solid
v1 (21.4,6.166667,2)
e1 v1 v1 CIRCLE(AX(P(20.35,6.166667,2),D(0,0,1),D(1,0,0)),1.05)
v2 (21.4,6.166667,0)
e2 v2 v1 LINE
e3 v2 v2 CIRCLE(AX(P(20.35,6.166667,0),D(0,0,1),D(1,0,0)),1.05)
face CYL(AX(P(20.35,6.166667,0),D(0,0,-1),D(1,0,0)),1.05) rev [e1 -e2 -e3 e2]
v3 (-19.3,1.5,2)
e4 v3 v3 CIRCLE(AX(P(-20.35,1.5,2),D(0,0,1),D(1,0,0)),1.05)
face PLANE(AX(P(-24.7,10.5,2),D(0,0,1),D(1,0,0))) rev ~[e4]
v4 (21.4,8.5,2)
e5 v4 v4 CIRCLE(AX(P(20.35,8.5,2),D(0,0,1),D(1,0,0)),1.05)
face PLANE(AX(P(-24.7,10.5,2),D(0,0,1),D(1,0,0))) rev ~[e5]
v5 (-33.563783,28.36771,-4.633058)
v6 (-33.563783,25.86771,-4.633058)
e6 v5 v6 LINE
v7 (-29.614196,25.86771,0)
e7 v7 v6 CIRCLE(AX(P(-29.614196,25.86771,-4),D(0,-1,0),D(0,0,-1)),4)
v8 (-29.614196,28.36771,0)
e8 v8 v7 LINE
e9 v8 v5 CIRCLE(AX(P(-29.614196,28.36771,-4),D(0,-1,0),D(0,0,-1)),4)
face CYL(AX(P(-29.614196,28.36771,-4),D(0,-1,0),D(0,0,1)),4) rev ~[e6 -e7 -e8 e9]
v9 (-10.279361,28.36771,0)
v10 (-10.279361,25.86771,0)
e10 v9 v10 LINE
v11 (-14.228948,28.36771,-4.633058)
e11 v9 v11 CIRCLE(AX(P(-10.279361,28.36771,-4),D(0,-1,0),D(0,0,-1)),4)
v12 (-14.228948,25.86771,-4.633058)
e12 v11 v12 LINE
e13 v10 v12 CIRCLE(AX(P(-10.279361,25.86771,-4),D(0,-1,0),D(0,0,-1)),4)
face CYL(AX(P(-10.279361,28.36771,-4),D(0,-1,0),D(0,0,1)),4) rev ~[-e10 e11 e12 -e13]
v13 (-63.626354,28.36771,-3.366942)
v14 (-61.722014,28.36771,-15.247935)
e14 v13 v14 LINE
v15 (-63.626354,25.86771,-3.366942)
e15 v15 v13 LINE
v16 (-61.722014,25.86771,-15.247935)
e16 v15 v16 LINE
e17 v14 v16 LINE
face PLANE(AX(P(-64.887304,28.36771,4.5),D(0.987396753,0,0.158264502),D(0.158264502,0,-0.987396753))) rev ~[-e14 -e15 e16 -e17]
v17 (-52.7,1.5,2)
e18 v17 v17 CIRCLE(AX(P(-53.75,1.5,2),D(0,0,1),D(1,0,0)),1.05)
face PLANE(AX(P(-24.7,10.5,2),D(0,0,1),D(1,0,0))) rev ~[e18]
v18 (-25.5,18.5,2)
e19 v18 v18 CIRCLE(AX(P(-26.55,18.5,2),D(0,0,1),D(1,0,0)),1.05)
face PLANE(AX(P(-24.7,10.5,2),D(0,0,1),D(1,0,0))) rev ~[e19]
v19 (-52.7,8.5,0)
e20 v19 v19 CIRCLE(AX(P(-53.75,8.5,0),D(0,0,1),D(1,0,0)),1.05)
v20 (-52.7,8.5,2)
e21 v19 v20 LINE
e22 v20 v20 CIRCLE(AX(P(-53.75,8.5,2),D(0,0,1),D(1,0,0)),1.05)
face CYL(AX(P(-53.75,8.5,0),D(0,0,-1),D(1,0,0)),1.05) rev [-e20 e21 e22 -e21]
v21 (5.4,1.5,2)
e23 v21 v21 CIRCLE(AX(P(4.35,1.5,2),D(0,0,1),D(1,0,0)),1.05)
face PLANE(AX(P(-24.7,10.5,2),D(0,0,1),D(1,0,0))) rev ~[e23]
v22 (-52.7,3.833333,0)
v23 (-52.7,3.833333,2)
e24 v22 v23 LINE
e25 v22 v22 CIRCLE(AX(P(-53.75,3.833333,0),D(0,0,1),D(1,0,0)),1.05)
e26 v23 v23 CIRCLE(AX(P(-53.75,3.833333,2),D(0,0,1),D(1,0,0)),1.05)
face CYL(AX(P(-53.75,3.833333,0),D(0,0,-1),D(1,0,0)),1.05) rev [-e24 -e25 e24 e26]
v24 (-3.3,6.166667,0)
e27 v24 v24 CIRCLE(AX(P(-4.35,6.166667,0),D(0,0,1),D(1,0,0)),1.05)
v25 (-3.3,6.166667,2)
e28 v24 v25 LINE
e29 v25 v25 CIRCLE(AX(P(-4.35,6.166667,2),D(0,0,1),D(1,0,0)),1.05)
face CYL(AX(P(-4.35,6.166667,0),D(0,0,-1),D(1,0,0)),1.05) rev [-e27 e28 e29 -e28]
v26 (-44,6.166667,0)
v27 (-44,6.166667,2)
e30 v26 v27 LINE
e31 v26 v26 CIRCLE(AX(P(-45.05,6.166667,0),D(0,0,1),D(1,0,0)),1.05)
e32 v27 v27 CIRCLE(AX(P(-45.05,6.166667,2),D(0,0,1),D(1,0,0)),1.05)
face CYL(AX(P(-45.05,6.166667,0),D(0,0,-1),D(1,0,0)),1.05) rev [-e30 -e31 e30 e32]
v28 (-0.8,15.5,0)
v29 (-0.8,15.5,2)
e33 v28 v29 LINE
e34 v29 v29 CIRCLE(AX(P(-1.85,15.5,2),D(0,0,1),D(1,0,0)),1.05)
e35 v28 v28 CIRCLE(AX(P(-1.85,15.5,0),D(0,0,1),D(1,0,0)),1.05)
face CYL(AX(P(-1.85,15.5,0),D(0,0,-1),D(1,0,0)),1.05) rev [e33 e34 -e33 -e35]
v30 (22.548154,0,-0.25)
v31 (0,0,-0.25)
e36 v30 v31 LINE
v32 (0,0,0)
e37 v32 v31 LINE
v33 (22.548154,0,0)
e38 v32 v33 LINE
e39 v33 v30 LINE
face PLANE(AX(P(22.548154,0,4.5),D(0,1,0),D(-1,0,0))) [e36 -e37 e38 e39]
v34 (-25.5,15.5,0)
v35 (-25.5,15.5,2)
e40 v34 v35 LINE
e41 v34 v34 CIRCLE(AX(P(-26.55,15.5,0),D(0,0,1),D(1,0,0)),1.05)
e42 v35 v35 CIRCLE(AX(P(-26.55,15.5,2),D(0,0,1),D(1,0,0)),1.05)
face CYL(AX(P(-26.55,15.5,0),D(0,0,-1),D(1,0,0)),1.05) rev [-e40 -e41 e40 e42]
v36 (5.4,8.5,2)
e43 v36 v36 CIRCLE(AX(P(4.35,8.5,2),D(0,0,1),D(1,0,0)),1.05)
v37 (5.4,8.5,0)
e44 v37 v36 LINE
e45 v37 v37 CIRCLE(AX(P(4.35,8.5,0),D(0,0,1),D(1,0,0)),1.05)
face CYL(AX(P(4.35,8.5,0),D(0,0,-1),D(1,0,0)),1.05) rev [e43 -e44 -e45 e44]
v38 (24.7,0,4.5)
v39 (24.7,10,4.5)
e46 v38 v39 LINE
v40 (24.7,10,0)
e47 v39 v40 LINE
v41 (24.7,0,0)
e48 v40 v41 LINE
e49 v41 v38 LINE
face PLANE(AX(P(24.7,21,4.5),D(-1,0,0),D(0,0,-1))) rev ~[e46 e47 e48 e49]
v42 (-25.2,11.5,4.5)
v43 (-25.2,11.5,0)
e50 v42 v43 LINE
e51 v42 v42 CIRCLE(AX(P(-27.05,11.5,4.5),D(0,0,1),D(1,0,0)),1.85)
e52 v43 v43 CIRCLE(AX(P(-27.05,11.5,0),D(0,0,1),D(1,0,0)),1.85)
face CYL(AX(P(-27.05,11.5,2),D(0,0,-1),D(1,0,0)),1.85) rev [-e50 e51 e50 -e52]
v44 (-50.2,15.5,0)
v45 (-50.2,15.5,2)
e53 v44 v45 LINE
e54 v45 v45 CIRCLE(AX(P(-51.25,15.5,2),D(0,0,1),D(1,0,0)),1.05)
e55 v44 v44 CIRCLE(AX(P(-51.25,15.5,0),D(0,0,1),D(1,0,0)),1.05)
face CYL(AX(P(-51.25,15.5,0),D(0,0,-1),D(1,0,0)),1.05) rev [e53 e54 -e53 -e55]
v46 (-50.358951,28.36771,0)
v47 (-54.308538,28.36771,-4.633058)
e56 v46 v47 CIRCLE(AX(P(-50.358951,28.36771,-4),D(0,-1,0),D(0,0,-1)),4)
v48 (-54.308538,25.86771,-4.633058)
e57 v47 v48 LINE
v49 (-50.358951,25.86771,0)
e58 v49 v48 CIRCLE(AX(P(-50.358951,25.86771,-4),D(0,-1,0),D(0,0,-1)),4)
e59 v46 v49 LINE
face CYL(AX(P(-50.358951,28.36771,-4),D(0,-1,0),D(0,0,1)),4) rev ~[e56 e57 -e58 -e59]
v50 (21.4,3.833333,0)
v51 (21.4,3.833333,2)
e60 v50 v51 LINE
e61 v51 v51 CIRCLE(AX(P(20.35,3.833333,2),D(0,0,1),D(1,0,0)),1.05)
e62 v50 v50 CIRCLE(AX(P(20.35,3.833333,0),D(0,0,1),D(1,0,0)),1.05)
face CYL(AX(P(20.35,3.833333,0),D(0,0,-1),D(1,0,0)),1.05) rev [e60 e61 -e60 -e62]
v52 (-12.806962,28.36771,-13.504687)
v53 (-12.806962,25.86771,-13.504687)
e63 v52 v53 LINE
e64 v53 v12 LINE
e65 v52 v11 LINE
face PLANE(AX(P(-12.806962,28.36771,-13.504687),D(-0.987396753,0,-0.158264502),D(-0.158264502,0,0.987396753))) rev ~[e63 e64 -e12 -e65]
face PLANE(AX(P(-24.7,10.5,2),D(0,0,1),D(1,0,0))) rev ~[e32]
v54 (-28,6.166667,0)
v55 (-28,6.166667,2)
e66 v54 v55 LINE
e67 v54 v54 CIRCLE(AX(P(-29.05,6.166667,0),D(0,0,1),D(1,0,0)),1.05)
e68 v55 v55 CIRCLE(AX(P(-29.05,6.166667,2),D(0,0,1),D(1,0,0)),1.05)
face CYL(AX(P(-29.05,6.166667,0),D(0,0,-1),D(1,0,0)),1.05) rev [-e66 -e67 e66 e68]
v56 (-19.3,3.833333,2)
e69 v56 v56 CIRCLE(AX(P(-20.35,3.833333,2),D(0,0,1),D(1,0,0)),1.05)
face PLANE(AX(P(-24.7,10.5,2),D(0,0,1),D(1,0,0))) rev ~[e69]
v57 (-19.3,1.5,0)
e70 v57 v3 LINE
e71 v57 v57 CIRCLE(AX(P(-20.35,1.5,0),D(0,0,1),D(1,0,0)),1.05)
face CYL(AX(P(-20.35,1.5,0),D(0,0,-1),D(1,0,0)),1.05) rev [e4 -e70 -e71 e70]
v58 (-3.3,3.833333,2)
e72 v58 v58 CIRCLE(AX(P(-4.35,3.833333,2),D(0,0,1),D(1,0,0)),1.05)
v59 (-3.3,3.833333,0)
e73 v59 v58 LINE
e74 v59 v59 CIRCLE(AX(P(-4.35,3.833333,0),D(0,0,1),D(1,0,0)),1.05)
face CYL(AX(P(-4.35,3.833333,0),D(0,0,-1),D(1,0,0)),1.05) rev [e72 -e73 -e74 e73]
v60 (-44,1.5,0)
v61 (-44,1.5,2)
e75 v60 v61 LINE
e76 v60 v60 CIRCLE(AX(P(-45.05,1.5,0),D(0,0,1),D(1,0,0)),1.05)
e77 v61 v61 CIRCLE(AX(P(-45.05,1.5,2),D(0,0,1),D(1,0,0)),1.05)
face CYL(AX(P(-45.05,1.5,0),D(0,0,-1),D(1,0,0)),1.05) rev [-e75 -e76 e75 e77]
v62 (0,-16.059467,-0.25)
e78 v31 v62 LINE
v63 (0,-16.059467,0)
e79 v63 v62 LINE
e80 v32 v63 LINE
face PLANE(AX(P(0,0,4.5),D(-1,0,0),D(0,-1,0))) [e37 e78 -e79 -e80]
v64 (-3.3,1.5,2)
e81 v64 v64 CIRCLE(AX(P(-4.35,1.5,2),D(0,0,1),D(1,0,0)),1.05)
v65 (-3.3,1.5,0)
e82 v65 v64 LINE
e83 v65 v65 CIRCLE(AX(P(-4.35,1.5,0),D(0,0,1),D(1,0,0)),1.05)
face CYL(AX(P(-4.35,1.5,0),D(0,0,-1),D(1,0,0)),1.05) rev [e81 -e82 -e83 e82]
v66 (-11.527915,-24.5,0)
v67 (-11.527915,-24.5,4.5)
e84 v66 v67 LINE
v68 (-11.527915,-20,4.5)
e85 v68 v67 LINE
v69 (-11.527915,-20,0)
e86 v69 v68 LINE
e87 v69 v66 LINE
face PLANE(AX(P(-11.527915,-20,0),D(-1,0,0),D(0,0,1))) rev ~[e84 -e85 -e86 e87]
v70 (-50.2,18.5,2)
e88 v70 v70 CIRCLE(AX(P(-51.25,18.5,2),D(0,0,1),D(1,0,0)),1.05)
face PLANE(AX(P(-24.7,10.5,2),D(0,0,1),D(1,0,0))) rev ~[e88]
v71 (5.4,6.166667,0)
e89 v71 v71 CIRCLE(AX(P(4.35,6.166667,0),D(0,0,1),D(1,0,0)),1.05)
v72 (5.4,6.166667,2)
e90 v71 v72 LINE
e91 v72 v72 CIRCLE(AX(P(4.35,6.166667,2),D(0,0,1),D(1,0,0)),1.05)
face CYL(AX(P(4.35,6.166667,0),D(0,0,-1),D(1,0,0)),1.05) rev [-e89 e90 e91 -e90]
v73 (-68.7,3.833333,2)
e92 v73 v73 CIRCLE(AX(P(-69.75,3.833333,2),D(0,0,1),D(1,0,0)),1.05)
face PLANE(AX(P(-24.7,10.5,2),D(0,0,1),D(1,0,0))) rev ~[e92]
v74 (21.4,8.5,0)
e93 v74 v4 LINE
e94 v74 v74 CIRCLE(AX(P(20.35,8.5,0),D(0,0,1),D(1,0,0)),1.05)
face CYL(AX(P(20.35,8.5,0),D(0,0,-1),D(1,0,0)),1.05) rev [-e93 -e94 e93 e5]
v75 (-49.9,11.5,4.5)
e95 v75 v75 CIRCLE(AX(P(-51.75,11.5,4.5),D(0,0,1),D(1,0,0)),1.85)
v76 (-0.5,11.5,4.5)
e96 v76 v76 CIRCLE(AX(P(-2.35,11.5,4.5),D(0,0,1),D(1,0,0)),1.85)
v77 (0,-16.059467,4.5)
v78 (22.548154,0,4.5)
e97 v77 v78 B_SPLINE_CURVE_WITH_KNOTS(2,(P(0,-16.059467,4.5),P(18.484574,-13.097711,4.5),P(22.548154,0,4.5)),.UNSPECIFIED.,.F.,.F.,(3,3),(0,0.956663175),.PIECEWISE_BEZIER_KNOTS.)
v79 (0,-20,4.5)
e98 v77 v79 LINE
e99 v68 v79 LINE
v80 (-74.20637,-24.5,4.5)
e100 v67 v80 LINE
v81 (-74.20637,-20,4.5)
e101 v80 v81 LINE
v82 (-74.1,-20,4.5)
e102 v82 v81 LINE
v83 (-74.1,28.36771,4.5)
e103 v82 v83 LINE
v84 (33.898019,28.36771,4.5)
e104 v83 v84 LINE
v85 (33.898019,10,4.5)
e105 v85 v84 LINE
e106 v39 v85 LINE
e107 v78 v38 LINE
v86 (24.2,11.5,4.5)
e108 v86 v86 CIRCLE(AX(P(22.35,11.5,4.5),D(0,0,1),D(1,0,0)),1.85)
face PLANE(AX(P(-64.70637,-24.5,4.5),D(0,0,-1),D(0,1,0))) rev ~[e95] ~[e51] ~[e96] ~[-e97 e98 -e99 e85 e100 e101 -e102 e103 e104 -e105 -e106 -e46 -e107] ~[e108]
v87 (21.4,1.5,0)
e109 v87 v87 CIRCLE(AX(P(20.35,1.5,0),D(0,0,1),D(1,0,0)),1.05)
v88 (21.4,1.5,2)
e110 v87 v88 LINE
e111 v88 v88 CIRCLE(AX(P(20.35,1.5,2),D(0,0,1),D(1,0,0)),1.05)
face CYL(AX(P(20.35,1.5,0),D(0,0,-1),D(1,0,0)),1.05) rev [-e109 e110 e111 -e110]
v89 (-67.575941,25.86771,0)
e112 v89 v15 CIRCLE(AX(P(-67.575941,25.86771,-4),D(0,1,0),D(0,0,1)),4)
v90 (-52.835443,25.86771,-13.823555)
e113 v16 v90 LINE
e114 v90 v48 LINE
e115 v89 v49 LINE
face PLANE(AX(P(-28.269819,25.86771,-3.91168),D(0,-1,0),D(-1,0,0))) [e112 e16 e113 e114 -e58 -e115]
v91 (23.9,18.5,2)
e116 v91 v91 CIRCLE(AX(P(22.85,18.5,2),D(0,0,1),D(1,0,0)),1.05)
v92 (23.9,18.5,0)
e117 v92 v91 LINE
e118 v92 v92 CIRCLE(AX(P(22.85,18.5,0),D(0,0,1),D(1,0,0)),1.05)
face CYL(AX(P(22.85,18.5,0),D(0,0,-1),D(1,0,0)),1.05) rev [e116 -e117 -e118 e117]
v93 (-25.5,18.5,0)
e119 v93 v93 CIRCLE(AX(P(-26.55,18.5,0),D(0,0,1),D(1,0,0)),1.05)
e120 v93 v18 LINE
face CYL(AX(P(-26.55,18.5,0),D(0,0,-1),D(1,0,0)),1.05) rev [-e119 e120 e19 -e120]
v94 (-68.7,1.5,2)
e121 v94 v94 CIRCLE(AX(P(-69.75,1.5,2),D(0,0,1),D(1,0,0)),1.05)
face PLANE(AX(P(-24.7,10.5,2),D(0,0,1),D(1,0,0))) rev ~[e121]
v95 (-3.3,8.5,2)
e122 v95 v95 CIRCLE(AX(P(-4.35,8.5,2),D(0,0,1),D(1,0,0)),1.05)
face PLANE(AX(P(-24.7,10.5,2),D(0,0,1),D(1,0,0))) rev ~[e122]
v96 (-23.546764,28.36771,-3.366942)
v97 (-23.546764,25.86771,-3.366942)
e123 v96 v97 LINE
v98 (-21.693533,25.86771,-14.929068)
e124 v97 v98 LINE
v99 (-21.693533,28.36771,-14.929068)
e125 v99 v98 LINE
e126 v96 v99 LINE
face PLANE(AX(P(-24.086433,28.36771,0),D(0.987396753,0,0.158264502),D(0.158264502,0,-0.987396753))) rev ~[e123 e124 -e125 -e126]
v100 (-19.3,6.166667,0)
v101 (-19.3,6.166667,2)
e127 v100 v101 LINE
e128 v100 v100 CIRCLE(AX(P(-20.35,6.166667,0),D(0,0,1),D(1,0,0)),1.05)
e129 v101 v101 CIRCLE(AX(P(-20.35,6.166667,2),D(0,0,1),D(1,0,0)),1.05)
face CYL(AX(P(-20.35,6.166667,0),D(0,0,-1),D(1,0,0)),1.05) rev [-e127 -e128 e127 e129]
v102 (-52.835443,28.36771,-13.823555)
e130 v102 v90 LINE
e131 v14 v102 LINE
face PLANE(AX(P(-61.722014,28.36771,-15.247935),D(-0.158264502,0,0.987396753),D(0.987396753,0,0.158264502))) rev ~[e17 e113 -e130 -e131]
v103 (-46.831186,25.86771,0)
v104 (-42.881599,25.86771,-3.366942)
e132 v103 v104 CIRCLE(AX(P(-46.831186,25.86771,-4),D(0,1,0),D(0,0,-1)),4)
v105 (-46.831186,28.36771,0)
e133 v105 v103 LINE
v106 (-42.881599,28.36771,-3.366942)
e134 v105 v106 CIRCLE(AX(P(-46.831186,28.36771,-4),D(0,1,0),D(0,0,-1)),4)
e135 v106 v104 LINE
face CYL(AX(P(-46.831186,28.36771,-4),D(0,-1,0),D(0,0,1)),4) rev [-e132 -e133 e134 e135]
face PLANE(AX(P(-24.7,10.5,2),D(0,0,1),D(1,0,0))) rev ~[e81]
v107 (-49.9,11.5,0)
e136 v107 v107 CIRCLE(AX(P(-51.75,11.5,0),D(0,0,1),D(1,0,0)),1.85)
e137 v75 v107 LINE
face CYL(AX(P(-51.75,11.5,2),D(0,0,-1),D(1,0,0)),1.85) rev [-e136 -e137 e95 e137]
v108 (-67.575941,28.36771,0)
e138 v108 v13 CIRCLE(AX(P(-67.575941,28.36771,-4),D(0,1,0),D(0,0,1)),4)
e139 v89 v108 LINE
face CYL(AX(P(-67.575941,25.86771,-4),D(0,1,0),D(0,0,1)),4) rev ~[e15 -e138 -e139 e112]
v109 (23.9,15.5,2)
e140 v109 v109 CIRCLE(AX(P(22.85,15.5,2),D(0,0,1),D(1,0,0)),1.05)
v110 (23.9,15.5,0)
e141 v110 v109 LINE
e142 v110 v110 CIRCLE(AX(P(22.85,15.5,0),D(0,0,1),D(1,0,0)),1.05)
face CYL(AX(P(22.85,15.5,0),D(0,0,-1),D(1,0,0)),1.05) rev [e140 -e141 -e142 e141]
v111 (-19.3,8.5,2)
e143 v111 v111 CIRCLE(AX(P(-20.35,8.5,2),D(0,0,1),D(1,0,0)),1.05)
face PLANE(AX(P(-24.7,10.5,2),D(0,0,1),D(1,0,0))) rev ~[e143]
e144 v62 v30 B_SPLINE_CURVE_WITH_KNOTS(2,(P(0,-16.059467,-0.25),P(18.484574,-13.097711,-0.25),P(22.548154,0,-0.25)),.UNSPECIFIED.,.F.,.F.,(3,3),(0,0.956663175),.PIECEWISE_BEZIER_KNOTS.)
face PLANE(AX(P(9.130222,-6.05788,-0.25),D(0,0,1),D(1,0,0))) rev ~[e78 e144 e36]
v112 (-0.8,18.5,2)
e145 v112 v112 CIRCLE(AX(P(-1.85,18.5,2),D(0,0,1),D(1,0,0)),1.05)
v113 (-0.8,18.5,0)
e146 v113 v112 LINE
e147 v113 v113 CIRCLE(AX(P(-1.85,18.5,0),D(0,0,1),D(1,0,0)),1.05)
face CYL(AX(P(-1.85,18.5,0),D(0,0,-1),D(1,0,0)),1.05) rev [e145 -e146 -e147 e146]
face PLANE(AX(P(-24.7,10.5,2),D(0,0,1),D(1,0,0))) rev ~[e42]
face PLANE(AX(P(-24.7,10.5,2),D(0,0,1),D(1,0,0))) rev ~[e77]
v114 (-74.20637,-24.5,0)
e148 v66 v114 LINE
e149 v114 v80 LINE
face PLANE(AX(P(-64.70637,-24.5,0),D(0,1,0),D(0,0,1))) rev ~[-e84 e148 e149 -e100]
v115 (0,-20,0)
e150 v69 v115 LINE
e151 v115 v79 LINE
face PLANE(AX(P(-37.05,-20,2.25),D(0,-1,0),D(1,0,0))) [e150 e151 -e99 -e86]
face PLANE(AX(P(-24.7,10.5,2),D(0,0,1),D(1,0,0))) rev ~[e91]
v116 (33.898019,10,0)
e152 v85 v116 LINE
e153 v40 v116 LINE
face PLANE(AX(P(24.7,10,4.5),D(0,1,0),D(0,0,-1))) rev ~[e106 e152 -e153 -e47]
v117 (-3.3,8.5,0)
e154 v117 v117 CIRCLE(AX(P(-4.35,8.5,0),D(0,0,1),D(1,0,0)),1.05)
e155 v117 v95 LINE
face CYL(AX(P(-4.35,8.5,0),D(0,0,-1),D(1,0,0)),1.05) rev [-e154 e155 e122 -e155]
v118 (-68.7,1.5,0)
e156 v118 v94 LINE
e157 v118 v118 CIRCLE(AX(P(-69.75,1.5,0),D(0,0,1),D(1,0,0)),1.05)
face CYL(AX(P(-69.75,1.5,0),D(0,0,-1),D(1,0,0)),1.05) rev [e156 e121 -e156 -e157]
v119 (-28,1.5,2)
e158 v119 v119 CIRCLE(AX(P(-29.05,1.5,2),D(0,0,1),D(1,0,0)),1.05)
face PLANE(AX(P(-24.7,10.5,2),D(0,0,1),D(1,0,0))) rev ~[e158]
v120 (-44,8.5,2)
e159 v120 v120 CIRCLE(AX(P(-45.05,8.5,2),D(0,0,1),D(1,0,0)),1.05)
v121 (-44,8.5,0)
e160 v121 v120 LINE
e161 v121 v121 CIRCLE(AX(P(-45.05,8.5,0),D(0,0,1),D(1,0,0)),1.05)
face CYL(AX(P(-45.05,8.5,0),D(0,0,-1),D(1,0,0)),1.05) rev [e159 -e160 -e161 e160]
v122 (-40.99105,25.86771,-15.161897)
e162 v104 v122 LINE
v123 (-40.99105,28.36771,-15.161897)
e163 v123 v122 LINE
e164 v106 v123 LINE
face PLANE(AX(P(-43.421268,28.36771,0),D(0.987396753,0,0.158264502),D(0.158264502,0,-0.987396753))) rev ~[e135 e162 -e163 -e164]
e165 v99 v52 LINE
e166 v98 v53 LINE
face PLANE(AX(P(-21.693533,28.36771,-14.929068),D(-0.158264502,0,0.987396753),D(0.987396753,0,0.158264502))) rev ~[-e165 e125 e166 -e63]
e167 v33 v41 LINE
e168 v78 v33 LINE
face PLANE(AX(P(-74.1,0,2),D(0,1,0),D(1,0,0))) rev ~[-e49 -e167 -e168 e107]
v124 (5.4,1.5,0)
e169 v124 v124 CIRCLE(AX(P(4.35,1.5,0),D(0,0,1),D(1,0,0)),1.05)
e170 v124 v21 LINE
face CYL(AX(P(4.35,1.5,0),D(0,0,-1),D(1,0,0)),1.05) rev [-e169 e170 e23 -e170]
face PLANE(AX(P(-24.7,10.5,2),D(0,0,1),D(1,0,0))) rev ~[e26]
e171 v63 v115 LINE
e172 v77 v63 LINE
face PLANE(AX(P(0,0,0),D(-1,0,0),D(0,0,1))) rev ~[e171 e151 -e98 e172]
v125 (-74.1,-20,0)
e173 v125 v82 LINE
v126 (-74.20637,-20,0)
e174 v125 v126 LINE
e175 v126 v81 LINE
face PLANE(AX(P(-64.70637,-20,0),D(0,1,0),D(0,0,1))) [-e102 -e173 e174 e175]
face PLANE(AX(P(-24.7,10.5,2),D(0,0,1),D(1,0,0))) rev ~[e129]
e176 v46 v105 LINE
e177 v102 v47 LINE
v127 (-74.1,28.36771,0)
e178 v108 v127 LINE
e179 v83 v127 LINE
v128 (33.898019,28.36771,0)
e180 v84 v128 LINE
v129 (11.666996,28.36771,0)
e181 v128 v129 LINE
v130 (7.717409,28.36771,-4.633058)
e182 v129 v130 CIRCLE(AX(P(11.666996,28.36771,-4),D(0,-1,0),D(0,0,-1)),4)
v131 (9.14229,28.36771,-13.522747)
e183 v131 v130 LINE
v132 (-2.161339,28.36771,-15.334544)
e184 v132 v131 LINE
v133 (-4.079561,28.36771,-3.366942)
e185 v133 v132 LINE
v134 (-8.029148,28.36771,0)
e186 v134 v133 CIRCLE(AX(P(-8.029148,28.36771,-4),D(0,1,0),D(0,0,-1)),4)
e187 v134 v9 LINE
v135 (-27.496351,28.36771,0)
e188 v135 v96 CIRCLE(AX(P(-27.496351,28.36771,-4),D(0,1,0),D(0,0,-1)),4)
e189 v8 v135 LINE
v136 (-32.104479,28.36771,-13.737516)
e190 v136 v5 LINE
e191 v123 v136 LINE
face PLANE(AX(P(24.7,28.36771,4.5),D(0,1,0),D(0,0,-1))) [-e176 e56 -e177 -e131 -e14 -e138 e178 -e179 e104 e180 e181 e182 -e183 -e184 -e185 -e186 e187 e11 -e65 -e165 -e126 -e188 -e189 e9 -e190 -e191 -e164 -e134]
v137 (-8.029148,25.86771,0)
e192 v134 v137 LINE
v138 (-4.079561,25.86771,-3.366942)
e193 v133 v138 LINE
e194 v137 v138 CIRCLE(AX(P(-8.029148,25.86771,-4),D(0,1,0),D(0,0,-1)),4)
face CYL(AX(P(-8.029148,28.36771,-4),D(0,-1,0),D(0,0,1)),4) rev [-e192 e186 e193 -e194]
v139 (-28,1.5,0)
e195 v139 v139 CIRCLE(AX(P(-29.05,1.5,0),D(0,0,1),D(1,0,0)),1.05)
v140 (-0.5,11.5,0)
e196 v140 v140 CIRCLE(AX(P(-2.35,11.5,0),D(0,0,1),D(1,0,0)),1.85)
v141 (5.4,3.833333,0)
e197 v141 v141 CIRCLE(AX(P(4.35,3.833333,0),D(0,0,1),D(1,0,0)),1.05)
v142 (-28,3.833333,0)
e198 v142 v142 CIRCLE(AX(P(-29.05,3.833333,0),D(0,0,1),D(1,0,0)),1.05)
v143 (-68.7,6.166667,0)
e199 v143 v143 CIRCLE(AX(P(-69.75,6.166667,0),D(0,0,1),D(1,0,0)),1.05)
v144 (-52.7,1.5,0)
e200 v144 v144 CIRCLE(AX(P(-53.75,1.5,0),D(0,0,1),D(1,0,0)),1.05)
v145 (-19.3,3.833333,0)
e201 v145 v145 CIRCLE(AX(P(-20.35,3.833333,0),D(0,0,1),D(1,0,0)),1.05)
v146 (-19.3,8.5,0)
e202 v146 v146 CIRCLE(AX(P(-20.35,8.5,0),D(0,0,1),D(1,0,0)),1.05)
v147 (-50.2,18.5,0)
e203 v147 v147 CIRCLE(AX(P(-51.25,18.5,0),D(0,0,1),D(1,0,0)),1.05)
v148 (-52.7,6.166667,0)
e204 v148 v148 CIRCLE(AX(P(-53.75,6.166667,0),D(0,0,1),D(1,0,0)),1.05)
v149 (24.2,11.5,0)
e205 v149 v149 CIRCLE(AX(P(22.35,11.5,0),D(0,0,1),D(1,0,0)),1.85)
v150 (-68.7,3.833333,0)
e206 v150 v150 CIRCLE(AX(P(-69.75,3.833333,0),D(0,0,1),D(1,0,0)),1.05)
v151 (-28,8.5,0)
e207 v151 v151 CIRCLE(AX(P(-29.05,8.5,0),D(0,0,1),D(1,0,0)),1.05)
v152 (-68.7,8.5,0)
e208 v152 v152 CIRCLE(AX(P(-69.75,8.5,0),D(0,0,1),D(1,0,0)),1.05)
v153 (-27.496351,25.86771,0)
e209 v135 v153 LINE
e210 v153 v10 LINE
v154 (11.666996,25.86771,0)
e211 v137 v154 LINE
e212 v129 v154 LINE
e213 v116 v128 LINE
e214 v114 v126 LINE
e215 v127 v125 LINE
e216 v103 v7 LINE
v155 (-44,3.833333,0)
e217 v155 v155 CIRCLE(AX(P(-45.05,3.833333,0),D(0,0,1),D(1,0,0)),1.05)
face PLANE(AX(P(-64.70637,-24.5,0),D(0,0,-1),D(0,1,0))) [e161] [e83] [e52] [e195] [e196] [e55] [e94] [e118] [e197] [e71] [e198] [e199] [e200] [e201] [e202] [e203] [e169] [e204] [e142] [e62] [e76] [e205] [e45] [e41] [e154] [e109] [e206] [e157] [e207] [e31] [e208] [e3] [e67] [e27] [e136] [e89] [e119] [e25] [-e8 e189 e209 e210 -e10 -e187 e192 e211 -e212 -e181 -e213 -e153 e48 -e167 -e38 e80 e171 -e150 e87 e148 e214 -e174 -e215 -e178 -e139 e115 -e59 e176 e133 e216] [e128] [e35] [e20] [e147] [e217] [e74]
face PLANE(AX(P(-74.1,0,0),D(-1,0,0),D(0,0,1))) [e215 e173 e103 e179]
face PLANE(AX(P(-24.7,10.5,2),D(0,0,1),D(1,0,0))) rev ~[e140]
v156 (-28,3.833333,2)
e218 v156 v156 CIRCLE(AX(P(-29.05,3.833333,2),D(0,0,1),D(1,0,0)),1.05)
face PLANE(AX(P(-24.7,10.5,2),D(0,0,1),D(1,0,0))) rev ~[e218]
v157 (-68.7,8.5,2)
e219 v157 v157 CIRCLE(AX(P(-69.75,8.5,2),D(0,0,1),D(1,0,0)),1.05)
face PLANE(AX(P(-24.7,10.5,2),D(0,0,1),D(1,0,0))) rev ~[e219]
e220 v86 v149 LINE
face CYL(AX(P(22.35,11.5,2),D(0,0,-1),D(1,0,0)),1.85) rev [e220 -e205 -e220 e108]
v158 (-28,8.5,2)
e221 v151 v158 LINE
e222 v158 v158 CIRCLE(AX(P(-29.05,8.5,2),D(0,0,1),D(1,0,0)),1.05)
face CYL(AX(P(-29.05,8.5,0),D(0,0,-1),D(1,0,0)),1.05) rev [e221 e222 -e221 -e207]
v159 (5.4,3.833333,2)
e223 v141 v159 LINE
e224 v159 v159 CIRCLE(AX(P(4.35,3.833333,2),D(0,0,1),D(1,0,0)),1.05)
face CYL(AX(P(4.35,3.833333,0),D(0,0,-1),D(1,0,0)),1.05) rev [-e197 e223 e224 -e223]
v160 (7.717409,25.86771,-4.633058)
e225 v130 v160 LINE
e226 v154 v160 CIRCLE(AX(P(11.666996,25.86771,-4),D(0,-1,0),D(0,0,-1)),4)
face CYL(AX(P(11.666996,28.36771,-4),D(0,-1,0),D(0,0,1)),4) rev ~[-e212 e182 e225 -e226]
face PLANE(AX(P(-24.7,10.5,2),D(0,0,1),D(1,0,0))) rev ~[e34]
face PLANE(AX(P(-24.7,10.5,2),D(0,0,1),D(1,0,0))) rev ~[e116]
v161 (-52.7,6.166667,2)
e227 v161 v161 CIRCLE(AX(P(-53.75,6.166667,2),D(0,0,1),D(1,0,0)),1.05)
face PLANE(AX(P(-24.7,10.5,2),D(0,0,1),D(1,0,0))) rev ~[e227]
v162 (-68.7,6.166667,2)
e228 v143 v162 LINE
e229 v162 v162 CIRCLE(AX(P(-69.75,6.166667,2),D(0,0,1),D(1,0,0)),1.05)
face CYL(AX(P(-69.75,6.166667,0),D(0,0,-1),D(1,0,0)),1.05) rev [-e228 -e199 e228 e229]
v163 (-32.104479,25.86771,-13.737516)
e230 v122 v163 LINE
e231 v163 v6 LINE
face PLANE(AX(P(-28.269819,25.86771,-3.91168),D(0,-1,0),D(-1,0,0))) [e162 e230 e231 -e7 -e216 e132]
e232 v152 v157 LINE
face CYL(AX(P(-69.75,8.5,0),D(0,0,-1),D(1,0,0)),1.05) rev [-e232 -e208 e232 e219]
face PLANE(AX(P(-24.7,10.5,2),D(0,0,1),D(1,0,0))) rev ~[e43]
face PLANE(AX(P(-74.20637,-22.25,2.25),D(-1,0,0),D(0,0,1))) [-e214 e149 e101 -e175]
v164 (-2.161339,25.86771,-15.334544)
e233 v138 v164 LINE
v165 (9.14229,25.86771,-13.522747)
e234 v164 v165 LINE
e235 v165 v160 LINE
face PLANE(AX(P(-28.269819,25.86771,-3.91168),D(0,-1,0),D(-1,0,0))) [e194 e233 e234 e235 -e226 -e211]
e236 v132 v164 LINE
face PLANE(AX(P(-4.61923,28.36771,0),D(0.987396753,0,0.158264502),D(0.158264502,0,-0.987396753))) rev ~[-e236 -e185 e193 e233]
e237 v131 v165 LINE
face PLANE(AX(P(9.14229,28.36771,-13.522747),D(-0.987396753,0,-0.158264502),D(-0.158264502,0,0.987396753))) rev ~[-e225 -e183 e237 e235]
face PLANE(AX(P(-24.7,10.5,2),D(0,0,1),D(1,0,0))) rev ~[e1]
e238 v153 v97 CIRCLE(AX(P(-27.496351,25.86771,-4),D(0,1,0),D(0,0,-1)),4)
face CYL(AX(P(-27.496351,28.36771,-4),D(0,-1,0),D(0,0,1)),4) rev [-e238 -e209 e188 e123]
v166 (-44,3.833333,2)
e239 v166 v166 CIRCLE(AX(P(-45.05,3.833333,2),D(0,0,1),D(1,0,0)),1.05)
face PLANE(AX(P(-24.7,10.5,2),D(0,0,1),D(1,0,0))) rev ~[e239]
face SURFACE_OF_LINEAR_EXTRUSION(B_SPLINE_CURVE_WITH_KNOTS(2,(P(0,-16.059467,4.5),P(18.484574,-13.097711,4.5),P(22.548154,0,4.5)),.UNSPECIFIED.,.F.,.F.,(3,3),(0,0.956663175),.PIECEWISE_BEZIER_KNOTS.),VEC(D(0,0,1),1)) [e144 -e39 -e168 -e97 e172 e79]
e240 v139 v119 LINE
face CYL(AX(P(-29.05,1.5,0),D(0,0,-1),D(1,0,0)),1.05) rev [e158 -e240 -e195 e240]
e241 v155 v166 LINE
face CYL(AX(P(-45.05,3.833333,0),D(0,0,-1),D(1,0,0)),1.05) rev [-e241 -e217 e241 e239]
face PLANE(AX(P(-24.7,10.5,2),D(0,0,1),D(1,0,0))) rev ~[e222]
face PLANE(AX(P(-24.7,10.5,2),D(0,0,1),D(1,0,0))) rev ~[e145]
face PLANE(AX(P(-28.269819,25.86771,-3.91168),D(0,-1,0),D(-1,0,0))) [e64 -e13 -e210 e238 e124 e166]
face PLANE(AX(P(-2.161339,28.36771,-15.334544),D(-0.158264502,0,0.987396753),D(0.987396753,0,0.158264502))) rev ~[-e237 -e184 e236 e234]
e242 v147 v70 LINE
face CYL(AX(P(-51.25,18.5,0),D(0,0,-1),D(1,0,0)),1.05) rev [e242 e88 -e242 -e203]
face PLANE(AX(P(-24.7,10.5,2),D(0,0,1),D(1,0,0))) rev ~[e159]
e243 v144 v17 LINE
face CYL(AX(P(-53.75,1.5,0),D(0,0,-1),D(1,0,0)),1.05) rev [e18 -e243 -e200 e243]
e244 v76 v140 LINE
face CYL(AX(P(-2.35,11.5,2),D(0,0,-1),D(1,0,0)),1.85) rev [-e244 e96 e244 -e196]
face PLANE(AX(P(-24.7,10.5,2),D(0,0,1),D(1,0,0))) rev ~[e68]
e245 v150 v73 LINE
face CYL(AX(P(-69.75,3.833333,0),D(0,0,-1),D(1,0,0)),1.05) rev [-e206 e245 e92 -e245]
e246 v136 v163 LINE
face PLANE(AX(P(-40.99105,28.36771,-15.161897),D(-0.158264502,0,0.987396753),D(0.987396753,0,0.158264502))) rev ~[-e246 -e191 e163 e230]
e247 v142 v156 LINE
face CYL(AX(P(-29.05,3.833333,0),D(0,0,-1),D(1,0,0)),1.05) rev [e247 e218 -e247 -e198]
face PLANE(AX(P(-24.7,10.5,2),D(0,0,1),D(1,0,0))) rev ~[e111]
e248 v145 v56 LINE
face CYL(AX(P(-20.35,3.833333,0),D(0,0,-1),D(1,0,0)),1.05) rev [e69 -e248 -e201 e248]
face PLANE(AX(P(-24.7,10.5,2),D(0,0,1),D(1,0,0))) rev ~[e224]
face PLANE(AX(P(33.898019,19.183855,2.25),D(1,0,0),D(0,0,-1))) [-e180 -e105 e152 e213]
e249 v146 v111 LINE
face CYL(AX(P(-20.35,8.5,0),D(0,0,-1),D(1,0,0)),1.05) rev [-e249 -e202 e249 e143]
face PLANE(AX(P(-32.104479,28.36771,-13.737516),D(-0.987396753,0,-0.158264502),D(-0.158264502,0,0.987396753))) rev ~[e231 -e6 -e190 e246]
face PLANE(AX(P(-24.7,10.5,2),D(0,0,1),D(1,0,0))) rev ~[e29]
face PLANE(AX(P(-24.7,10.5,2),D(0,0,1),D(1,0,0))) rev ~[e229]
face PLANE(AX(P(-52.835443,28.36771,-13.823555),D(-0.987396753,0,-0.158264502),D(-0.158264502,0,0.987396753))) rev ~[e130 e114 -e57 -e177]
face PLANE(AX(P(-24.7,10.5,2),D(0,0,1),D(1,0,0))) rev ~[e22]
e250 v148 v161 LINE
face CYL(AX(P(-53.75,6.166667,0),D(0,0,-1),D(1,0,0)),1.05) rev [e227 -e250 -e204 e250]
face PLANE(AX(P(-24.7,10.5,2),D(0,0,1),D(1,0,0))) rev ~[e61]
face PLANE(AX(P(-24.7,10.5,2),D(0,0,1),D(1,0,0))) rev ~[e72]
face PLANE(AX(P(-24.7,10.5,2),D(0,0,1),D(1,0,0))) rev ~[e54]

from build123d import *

# Parameters (mm, degrees)
SKETCH1_W           = 24.7
SKETCH1_H           = 21
SKETCH1_R           = 1.05
SKETCH1_R_2         = 1.85000003
SKETCH1_R_3         = 1.050000015
BOSS_EXTRUDE1_DEPTH = 2
LPATTERN1_COUNT     = 4
LPATTERN1_PITCH     = 24.7
SKETCH3_W           = 98.8
SKETCH3_H           = 21
SKETCH3_R           = 1.85000003
BOSS_EXTRUDE2_DEPTH = 2.5
SKETCH4_W           = 98.8
SKETCH4_H           = 4.5
BOSS_EXTRUDE3_DEPTH = 7.36771
SKETCH6_W           = 4.5
SKETCH6_H           = 18.36771
BOSS_EXTRUDE4_DEPTH = 9.198019
SKETCH7_W           = 74.1
SKETCH7_H           = 4.5
BOSS_EXTRUDE5_DEPTH = 20
SKETCH8_W           = 53.178454151
SKETCH8_H           = 4.5
BOSS_EXTRUDE6_DEPTH = 4.5
BOSS_EXTRUDE7_DEPTH = 4.75
BOSS_EXTRUDE8_DEPTH = 2.5
SKETCH14_W          = 4.5
SKETCH14_H          = 4.5
BOSS_EXTRUDE9_DEPTH = 9.5
FILLET1_R           = 4


with BuildPart() as part:
    # Sketch1 → Boss-Extrude1 (new body)
    with BuildSketch(Plane.XY):
        with Locations((12.35, 10.5)):
            Rectangle(SKETCH1_W, SKETCH1_H)
        with Locations((22.850000164, 18.500000119)):
            Circle(SKETCH1_R, mode=Mode.SUBTRACT)
        with Locations((22.850000164, 15.500000119)):
            Circle(SKETCH1_R, mode=Mode.SUBTRACT)
        with Locations((22.350000149, 11.500000015)):
            Circle(SKETCH1_R_2, mode=Mode.SUBTRACT)
        with Locations((20.350000119, 8.49999997)):
            Circle(SKETCH1_R_3, mode=Mode.SUBTRACT)
        with Locations((20.350000119, 6.166666637)):
            Circle(SKETCH1_R_3, mode=Mode.SUBTRACT)
        with Locations((20.350000119, 3.833333304)):
            Circle(SKETCH1_R_3, mode=Mode.SUBTRACT)
        with Locations((20.350000119, 1.49999997)):
            Circle(SKETCH1_R_3, mode=Mode.SUBTRACT)
        with Locations((4.349999881, 8.49999997)):
            Circle(SKETCH1_R_3, mode=Mode.SUBTRACT)
        with Locations((4.349999881, 6.166666637)):
            Circle(SKETCH1_R_3, mode=Mode.SUBTRACT)
        with Locations((4.349999881, 3.833333304)):
            Circle(SKETCH1_R_3, mode=Mode.SUBTRACT)
        with Locations((4.349999881, 1.49999997)):
            Circle(SKETCH1_R_3, mode=Mode.SUBTRACT)
    boss_extrude1 = extrude(amount=BOSS_EXTRUDE1_DEPTH)

    # LPattern1: Boss-Extrude1 ×4
    with Locations(*[(-i * LPATTERN1_PITCH, 0, 0) for i in range(1, LPATTERN1_COUNT)]):
        add(boss_extrude1)

    # Sketch3 → Boss-Extrude2 (add)
    with BuildSketch(Plane.XY.offset(2)):
        with Locations((-24.7, 10.5)):
            Rectangle(SKETCH3_W, SKETCH3_H)
        with Locations((-51.749999851, 11.500000015)):
            Circle(SKETCH3_R, mode=Mode.SUBTRACT)
        with Locations((-27.049999851, 11.500000015)):
            Circle(SKETCH3_R, mode=Mode.SUBTRACT)
        with Locations((-2.349999851, 11.500000015)):
            Circle(SKETCH3_R, mode=Mode.SUBTRACT)
        with Locations((22.350000149, 11.500000015)):
            Circle(SKETCH3_R, mode=Mode.SUBTRACT)
    extrude(amount=BOSS_EXTRUDE2_DEPTH)

    # Sketch4 → Boss-Extrude3 (add)
    with BuildSketch(Plane(origin=(0, 21, 0), x_dir=(1, 0, 0), z_dir=(0, 1, 0))):
        with Locations((-24.7, -2.25)):
            Rectangle(SKETCH4_W, SKETCH4_H)
    extrude(amount=BOSS_EXTRUDE3_DEPTH)

    # Sketch6 → Boss-Extrude4 (add)
    with BuildSketch(Plane(origin=(24.7, 0, 0), x_dir=(0, 0, -1), z_dir=(1, 0, 0))):
        with Locations((-2.25, 19.183855)):
            Rectangle(SKETCH6_W, SKETCH6_H)
    extrude(amount=BOSS_EXTRUDE4_DEPTH)

    # Sketch7 → Boss-Extrude5 (add)
    with BuildSketch(Plane.XZ):
        with Locations((-37.05, 2.25)):
            Rectangle(SKETCH7_W, SKETCH7_H)
    extrude(amount=BOSS_EXTRUDE5_DEPTH)

    # Sketch8 → Boss-Extrude6 (add)
    with BuildSketch(Plane.XZ.offset(20)):
        with Locations((-38.117142498, 2.25)):
            Rectangle(SKETCH8_W, SKETCH8_H)
    extrude(amount=BOSS_EXTRUDE6_DEPTH)

    # Sketch9 → Boss-Extrude7 (add)
    with BuildSketch(Plane.XY.offset(4.5)):
        with BuildLine():
            Line((0, 0), (0, -16.059466978))
            add(Edge.make_bspline(
                [(0, -16.059466978), (18.484574141, -13.097711422), (22.548154032, 0)],
                knots=[0, 0, 0, 0.956663175, 0.956663175, 0.956663175], degree=2))
            Line((22.548154032, 0), (0, 0))
        make_face()
    extrude(amount=-BOSS_EXTRUDE7_DEPTH)

    # Sketch10 → Boss-Extrude8 (add)
    with BuildSketch(Plane(origin=(0, 28.36771, 0), x_dir=(1, 0, 0), z_dir=(0, 1, 0))):
        Polygon((-64.88730383, -4.5), (-61.722013793, 15.247935056), (-52.835443017, 13.823554539), (-55.051146044, 0), (-43.421268353, 0), (-40.991049642, 15.161896923), (-32.104478867, 13.737516406), (-34.306391305, 0), (-24.086432643, 0), (-21.693532902, 14.929067518), (-12.806962127, 13.504687001), (-15.036483854, -0.405081066), (-4.619230317, 0), (-2.161338866, 15.334544441), (9.14228964, 13.522746772), (6.974801469, 0), (6.974801469, -4.5), align=None)
    extrude(amount=-BOSS_EXTRUDE8_DEPTH)

    # Sketch14 → Boss-Extrude9 (add)
    with BuildSketch(Plane.ZY.offset(64.706369573)):
        with Locations((2.25, -22.25)):
            Rectangle(SKETCH14_W, SKETCH14_H)
    extrude(amount=BOSS_EXTRUDE9_DEPTH)

    # Fillet1
    fillet1_edges = [part.edges().sort_by_distance(p)[0] for p in [
        (6.974801469, 27.11771, 0),
        (-4.619230317, 27.11771, 0),
        (-14.971555594, 27.11771, 0),
        (-24.086432643, 27.11771, 0),
        (-34.306391305, 27.11771, 0),
        (-43.421268353, 27.11771, 0),
        (-55.051146044, 27.11771, 0),
        (-64.166023092, 27.11771, 0),
    ]]
    fillet(fillet1_edges, radius=FILLET1_R)


solid = part.part
